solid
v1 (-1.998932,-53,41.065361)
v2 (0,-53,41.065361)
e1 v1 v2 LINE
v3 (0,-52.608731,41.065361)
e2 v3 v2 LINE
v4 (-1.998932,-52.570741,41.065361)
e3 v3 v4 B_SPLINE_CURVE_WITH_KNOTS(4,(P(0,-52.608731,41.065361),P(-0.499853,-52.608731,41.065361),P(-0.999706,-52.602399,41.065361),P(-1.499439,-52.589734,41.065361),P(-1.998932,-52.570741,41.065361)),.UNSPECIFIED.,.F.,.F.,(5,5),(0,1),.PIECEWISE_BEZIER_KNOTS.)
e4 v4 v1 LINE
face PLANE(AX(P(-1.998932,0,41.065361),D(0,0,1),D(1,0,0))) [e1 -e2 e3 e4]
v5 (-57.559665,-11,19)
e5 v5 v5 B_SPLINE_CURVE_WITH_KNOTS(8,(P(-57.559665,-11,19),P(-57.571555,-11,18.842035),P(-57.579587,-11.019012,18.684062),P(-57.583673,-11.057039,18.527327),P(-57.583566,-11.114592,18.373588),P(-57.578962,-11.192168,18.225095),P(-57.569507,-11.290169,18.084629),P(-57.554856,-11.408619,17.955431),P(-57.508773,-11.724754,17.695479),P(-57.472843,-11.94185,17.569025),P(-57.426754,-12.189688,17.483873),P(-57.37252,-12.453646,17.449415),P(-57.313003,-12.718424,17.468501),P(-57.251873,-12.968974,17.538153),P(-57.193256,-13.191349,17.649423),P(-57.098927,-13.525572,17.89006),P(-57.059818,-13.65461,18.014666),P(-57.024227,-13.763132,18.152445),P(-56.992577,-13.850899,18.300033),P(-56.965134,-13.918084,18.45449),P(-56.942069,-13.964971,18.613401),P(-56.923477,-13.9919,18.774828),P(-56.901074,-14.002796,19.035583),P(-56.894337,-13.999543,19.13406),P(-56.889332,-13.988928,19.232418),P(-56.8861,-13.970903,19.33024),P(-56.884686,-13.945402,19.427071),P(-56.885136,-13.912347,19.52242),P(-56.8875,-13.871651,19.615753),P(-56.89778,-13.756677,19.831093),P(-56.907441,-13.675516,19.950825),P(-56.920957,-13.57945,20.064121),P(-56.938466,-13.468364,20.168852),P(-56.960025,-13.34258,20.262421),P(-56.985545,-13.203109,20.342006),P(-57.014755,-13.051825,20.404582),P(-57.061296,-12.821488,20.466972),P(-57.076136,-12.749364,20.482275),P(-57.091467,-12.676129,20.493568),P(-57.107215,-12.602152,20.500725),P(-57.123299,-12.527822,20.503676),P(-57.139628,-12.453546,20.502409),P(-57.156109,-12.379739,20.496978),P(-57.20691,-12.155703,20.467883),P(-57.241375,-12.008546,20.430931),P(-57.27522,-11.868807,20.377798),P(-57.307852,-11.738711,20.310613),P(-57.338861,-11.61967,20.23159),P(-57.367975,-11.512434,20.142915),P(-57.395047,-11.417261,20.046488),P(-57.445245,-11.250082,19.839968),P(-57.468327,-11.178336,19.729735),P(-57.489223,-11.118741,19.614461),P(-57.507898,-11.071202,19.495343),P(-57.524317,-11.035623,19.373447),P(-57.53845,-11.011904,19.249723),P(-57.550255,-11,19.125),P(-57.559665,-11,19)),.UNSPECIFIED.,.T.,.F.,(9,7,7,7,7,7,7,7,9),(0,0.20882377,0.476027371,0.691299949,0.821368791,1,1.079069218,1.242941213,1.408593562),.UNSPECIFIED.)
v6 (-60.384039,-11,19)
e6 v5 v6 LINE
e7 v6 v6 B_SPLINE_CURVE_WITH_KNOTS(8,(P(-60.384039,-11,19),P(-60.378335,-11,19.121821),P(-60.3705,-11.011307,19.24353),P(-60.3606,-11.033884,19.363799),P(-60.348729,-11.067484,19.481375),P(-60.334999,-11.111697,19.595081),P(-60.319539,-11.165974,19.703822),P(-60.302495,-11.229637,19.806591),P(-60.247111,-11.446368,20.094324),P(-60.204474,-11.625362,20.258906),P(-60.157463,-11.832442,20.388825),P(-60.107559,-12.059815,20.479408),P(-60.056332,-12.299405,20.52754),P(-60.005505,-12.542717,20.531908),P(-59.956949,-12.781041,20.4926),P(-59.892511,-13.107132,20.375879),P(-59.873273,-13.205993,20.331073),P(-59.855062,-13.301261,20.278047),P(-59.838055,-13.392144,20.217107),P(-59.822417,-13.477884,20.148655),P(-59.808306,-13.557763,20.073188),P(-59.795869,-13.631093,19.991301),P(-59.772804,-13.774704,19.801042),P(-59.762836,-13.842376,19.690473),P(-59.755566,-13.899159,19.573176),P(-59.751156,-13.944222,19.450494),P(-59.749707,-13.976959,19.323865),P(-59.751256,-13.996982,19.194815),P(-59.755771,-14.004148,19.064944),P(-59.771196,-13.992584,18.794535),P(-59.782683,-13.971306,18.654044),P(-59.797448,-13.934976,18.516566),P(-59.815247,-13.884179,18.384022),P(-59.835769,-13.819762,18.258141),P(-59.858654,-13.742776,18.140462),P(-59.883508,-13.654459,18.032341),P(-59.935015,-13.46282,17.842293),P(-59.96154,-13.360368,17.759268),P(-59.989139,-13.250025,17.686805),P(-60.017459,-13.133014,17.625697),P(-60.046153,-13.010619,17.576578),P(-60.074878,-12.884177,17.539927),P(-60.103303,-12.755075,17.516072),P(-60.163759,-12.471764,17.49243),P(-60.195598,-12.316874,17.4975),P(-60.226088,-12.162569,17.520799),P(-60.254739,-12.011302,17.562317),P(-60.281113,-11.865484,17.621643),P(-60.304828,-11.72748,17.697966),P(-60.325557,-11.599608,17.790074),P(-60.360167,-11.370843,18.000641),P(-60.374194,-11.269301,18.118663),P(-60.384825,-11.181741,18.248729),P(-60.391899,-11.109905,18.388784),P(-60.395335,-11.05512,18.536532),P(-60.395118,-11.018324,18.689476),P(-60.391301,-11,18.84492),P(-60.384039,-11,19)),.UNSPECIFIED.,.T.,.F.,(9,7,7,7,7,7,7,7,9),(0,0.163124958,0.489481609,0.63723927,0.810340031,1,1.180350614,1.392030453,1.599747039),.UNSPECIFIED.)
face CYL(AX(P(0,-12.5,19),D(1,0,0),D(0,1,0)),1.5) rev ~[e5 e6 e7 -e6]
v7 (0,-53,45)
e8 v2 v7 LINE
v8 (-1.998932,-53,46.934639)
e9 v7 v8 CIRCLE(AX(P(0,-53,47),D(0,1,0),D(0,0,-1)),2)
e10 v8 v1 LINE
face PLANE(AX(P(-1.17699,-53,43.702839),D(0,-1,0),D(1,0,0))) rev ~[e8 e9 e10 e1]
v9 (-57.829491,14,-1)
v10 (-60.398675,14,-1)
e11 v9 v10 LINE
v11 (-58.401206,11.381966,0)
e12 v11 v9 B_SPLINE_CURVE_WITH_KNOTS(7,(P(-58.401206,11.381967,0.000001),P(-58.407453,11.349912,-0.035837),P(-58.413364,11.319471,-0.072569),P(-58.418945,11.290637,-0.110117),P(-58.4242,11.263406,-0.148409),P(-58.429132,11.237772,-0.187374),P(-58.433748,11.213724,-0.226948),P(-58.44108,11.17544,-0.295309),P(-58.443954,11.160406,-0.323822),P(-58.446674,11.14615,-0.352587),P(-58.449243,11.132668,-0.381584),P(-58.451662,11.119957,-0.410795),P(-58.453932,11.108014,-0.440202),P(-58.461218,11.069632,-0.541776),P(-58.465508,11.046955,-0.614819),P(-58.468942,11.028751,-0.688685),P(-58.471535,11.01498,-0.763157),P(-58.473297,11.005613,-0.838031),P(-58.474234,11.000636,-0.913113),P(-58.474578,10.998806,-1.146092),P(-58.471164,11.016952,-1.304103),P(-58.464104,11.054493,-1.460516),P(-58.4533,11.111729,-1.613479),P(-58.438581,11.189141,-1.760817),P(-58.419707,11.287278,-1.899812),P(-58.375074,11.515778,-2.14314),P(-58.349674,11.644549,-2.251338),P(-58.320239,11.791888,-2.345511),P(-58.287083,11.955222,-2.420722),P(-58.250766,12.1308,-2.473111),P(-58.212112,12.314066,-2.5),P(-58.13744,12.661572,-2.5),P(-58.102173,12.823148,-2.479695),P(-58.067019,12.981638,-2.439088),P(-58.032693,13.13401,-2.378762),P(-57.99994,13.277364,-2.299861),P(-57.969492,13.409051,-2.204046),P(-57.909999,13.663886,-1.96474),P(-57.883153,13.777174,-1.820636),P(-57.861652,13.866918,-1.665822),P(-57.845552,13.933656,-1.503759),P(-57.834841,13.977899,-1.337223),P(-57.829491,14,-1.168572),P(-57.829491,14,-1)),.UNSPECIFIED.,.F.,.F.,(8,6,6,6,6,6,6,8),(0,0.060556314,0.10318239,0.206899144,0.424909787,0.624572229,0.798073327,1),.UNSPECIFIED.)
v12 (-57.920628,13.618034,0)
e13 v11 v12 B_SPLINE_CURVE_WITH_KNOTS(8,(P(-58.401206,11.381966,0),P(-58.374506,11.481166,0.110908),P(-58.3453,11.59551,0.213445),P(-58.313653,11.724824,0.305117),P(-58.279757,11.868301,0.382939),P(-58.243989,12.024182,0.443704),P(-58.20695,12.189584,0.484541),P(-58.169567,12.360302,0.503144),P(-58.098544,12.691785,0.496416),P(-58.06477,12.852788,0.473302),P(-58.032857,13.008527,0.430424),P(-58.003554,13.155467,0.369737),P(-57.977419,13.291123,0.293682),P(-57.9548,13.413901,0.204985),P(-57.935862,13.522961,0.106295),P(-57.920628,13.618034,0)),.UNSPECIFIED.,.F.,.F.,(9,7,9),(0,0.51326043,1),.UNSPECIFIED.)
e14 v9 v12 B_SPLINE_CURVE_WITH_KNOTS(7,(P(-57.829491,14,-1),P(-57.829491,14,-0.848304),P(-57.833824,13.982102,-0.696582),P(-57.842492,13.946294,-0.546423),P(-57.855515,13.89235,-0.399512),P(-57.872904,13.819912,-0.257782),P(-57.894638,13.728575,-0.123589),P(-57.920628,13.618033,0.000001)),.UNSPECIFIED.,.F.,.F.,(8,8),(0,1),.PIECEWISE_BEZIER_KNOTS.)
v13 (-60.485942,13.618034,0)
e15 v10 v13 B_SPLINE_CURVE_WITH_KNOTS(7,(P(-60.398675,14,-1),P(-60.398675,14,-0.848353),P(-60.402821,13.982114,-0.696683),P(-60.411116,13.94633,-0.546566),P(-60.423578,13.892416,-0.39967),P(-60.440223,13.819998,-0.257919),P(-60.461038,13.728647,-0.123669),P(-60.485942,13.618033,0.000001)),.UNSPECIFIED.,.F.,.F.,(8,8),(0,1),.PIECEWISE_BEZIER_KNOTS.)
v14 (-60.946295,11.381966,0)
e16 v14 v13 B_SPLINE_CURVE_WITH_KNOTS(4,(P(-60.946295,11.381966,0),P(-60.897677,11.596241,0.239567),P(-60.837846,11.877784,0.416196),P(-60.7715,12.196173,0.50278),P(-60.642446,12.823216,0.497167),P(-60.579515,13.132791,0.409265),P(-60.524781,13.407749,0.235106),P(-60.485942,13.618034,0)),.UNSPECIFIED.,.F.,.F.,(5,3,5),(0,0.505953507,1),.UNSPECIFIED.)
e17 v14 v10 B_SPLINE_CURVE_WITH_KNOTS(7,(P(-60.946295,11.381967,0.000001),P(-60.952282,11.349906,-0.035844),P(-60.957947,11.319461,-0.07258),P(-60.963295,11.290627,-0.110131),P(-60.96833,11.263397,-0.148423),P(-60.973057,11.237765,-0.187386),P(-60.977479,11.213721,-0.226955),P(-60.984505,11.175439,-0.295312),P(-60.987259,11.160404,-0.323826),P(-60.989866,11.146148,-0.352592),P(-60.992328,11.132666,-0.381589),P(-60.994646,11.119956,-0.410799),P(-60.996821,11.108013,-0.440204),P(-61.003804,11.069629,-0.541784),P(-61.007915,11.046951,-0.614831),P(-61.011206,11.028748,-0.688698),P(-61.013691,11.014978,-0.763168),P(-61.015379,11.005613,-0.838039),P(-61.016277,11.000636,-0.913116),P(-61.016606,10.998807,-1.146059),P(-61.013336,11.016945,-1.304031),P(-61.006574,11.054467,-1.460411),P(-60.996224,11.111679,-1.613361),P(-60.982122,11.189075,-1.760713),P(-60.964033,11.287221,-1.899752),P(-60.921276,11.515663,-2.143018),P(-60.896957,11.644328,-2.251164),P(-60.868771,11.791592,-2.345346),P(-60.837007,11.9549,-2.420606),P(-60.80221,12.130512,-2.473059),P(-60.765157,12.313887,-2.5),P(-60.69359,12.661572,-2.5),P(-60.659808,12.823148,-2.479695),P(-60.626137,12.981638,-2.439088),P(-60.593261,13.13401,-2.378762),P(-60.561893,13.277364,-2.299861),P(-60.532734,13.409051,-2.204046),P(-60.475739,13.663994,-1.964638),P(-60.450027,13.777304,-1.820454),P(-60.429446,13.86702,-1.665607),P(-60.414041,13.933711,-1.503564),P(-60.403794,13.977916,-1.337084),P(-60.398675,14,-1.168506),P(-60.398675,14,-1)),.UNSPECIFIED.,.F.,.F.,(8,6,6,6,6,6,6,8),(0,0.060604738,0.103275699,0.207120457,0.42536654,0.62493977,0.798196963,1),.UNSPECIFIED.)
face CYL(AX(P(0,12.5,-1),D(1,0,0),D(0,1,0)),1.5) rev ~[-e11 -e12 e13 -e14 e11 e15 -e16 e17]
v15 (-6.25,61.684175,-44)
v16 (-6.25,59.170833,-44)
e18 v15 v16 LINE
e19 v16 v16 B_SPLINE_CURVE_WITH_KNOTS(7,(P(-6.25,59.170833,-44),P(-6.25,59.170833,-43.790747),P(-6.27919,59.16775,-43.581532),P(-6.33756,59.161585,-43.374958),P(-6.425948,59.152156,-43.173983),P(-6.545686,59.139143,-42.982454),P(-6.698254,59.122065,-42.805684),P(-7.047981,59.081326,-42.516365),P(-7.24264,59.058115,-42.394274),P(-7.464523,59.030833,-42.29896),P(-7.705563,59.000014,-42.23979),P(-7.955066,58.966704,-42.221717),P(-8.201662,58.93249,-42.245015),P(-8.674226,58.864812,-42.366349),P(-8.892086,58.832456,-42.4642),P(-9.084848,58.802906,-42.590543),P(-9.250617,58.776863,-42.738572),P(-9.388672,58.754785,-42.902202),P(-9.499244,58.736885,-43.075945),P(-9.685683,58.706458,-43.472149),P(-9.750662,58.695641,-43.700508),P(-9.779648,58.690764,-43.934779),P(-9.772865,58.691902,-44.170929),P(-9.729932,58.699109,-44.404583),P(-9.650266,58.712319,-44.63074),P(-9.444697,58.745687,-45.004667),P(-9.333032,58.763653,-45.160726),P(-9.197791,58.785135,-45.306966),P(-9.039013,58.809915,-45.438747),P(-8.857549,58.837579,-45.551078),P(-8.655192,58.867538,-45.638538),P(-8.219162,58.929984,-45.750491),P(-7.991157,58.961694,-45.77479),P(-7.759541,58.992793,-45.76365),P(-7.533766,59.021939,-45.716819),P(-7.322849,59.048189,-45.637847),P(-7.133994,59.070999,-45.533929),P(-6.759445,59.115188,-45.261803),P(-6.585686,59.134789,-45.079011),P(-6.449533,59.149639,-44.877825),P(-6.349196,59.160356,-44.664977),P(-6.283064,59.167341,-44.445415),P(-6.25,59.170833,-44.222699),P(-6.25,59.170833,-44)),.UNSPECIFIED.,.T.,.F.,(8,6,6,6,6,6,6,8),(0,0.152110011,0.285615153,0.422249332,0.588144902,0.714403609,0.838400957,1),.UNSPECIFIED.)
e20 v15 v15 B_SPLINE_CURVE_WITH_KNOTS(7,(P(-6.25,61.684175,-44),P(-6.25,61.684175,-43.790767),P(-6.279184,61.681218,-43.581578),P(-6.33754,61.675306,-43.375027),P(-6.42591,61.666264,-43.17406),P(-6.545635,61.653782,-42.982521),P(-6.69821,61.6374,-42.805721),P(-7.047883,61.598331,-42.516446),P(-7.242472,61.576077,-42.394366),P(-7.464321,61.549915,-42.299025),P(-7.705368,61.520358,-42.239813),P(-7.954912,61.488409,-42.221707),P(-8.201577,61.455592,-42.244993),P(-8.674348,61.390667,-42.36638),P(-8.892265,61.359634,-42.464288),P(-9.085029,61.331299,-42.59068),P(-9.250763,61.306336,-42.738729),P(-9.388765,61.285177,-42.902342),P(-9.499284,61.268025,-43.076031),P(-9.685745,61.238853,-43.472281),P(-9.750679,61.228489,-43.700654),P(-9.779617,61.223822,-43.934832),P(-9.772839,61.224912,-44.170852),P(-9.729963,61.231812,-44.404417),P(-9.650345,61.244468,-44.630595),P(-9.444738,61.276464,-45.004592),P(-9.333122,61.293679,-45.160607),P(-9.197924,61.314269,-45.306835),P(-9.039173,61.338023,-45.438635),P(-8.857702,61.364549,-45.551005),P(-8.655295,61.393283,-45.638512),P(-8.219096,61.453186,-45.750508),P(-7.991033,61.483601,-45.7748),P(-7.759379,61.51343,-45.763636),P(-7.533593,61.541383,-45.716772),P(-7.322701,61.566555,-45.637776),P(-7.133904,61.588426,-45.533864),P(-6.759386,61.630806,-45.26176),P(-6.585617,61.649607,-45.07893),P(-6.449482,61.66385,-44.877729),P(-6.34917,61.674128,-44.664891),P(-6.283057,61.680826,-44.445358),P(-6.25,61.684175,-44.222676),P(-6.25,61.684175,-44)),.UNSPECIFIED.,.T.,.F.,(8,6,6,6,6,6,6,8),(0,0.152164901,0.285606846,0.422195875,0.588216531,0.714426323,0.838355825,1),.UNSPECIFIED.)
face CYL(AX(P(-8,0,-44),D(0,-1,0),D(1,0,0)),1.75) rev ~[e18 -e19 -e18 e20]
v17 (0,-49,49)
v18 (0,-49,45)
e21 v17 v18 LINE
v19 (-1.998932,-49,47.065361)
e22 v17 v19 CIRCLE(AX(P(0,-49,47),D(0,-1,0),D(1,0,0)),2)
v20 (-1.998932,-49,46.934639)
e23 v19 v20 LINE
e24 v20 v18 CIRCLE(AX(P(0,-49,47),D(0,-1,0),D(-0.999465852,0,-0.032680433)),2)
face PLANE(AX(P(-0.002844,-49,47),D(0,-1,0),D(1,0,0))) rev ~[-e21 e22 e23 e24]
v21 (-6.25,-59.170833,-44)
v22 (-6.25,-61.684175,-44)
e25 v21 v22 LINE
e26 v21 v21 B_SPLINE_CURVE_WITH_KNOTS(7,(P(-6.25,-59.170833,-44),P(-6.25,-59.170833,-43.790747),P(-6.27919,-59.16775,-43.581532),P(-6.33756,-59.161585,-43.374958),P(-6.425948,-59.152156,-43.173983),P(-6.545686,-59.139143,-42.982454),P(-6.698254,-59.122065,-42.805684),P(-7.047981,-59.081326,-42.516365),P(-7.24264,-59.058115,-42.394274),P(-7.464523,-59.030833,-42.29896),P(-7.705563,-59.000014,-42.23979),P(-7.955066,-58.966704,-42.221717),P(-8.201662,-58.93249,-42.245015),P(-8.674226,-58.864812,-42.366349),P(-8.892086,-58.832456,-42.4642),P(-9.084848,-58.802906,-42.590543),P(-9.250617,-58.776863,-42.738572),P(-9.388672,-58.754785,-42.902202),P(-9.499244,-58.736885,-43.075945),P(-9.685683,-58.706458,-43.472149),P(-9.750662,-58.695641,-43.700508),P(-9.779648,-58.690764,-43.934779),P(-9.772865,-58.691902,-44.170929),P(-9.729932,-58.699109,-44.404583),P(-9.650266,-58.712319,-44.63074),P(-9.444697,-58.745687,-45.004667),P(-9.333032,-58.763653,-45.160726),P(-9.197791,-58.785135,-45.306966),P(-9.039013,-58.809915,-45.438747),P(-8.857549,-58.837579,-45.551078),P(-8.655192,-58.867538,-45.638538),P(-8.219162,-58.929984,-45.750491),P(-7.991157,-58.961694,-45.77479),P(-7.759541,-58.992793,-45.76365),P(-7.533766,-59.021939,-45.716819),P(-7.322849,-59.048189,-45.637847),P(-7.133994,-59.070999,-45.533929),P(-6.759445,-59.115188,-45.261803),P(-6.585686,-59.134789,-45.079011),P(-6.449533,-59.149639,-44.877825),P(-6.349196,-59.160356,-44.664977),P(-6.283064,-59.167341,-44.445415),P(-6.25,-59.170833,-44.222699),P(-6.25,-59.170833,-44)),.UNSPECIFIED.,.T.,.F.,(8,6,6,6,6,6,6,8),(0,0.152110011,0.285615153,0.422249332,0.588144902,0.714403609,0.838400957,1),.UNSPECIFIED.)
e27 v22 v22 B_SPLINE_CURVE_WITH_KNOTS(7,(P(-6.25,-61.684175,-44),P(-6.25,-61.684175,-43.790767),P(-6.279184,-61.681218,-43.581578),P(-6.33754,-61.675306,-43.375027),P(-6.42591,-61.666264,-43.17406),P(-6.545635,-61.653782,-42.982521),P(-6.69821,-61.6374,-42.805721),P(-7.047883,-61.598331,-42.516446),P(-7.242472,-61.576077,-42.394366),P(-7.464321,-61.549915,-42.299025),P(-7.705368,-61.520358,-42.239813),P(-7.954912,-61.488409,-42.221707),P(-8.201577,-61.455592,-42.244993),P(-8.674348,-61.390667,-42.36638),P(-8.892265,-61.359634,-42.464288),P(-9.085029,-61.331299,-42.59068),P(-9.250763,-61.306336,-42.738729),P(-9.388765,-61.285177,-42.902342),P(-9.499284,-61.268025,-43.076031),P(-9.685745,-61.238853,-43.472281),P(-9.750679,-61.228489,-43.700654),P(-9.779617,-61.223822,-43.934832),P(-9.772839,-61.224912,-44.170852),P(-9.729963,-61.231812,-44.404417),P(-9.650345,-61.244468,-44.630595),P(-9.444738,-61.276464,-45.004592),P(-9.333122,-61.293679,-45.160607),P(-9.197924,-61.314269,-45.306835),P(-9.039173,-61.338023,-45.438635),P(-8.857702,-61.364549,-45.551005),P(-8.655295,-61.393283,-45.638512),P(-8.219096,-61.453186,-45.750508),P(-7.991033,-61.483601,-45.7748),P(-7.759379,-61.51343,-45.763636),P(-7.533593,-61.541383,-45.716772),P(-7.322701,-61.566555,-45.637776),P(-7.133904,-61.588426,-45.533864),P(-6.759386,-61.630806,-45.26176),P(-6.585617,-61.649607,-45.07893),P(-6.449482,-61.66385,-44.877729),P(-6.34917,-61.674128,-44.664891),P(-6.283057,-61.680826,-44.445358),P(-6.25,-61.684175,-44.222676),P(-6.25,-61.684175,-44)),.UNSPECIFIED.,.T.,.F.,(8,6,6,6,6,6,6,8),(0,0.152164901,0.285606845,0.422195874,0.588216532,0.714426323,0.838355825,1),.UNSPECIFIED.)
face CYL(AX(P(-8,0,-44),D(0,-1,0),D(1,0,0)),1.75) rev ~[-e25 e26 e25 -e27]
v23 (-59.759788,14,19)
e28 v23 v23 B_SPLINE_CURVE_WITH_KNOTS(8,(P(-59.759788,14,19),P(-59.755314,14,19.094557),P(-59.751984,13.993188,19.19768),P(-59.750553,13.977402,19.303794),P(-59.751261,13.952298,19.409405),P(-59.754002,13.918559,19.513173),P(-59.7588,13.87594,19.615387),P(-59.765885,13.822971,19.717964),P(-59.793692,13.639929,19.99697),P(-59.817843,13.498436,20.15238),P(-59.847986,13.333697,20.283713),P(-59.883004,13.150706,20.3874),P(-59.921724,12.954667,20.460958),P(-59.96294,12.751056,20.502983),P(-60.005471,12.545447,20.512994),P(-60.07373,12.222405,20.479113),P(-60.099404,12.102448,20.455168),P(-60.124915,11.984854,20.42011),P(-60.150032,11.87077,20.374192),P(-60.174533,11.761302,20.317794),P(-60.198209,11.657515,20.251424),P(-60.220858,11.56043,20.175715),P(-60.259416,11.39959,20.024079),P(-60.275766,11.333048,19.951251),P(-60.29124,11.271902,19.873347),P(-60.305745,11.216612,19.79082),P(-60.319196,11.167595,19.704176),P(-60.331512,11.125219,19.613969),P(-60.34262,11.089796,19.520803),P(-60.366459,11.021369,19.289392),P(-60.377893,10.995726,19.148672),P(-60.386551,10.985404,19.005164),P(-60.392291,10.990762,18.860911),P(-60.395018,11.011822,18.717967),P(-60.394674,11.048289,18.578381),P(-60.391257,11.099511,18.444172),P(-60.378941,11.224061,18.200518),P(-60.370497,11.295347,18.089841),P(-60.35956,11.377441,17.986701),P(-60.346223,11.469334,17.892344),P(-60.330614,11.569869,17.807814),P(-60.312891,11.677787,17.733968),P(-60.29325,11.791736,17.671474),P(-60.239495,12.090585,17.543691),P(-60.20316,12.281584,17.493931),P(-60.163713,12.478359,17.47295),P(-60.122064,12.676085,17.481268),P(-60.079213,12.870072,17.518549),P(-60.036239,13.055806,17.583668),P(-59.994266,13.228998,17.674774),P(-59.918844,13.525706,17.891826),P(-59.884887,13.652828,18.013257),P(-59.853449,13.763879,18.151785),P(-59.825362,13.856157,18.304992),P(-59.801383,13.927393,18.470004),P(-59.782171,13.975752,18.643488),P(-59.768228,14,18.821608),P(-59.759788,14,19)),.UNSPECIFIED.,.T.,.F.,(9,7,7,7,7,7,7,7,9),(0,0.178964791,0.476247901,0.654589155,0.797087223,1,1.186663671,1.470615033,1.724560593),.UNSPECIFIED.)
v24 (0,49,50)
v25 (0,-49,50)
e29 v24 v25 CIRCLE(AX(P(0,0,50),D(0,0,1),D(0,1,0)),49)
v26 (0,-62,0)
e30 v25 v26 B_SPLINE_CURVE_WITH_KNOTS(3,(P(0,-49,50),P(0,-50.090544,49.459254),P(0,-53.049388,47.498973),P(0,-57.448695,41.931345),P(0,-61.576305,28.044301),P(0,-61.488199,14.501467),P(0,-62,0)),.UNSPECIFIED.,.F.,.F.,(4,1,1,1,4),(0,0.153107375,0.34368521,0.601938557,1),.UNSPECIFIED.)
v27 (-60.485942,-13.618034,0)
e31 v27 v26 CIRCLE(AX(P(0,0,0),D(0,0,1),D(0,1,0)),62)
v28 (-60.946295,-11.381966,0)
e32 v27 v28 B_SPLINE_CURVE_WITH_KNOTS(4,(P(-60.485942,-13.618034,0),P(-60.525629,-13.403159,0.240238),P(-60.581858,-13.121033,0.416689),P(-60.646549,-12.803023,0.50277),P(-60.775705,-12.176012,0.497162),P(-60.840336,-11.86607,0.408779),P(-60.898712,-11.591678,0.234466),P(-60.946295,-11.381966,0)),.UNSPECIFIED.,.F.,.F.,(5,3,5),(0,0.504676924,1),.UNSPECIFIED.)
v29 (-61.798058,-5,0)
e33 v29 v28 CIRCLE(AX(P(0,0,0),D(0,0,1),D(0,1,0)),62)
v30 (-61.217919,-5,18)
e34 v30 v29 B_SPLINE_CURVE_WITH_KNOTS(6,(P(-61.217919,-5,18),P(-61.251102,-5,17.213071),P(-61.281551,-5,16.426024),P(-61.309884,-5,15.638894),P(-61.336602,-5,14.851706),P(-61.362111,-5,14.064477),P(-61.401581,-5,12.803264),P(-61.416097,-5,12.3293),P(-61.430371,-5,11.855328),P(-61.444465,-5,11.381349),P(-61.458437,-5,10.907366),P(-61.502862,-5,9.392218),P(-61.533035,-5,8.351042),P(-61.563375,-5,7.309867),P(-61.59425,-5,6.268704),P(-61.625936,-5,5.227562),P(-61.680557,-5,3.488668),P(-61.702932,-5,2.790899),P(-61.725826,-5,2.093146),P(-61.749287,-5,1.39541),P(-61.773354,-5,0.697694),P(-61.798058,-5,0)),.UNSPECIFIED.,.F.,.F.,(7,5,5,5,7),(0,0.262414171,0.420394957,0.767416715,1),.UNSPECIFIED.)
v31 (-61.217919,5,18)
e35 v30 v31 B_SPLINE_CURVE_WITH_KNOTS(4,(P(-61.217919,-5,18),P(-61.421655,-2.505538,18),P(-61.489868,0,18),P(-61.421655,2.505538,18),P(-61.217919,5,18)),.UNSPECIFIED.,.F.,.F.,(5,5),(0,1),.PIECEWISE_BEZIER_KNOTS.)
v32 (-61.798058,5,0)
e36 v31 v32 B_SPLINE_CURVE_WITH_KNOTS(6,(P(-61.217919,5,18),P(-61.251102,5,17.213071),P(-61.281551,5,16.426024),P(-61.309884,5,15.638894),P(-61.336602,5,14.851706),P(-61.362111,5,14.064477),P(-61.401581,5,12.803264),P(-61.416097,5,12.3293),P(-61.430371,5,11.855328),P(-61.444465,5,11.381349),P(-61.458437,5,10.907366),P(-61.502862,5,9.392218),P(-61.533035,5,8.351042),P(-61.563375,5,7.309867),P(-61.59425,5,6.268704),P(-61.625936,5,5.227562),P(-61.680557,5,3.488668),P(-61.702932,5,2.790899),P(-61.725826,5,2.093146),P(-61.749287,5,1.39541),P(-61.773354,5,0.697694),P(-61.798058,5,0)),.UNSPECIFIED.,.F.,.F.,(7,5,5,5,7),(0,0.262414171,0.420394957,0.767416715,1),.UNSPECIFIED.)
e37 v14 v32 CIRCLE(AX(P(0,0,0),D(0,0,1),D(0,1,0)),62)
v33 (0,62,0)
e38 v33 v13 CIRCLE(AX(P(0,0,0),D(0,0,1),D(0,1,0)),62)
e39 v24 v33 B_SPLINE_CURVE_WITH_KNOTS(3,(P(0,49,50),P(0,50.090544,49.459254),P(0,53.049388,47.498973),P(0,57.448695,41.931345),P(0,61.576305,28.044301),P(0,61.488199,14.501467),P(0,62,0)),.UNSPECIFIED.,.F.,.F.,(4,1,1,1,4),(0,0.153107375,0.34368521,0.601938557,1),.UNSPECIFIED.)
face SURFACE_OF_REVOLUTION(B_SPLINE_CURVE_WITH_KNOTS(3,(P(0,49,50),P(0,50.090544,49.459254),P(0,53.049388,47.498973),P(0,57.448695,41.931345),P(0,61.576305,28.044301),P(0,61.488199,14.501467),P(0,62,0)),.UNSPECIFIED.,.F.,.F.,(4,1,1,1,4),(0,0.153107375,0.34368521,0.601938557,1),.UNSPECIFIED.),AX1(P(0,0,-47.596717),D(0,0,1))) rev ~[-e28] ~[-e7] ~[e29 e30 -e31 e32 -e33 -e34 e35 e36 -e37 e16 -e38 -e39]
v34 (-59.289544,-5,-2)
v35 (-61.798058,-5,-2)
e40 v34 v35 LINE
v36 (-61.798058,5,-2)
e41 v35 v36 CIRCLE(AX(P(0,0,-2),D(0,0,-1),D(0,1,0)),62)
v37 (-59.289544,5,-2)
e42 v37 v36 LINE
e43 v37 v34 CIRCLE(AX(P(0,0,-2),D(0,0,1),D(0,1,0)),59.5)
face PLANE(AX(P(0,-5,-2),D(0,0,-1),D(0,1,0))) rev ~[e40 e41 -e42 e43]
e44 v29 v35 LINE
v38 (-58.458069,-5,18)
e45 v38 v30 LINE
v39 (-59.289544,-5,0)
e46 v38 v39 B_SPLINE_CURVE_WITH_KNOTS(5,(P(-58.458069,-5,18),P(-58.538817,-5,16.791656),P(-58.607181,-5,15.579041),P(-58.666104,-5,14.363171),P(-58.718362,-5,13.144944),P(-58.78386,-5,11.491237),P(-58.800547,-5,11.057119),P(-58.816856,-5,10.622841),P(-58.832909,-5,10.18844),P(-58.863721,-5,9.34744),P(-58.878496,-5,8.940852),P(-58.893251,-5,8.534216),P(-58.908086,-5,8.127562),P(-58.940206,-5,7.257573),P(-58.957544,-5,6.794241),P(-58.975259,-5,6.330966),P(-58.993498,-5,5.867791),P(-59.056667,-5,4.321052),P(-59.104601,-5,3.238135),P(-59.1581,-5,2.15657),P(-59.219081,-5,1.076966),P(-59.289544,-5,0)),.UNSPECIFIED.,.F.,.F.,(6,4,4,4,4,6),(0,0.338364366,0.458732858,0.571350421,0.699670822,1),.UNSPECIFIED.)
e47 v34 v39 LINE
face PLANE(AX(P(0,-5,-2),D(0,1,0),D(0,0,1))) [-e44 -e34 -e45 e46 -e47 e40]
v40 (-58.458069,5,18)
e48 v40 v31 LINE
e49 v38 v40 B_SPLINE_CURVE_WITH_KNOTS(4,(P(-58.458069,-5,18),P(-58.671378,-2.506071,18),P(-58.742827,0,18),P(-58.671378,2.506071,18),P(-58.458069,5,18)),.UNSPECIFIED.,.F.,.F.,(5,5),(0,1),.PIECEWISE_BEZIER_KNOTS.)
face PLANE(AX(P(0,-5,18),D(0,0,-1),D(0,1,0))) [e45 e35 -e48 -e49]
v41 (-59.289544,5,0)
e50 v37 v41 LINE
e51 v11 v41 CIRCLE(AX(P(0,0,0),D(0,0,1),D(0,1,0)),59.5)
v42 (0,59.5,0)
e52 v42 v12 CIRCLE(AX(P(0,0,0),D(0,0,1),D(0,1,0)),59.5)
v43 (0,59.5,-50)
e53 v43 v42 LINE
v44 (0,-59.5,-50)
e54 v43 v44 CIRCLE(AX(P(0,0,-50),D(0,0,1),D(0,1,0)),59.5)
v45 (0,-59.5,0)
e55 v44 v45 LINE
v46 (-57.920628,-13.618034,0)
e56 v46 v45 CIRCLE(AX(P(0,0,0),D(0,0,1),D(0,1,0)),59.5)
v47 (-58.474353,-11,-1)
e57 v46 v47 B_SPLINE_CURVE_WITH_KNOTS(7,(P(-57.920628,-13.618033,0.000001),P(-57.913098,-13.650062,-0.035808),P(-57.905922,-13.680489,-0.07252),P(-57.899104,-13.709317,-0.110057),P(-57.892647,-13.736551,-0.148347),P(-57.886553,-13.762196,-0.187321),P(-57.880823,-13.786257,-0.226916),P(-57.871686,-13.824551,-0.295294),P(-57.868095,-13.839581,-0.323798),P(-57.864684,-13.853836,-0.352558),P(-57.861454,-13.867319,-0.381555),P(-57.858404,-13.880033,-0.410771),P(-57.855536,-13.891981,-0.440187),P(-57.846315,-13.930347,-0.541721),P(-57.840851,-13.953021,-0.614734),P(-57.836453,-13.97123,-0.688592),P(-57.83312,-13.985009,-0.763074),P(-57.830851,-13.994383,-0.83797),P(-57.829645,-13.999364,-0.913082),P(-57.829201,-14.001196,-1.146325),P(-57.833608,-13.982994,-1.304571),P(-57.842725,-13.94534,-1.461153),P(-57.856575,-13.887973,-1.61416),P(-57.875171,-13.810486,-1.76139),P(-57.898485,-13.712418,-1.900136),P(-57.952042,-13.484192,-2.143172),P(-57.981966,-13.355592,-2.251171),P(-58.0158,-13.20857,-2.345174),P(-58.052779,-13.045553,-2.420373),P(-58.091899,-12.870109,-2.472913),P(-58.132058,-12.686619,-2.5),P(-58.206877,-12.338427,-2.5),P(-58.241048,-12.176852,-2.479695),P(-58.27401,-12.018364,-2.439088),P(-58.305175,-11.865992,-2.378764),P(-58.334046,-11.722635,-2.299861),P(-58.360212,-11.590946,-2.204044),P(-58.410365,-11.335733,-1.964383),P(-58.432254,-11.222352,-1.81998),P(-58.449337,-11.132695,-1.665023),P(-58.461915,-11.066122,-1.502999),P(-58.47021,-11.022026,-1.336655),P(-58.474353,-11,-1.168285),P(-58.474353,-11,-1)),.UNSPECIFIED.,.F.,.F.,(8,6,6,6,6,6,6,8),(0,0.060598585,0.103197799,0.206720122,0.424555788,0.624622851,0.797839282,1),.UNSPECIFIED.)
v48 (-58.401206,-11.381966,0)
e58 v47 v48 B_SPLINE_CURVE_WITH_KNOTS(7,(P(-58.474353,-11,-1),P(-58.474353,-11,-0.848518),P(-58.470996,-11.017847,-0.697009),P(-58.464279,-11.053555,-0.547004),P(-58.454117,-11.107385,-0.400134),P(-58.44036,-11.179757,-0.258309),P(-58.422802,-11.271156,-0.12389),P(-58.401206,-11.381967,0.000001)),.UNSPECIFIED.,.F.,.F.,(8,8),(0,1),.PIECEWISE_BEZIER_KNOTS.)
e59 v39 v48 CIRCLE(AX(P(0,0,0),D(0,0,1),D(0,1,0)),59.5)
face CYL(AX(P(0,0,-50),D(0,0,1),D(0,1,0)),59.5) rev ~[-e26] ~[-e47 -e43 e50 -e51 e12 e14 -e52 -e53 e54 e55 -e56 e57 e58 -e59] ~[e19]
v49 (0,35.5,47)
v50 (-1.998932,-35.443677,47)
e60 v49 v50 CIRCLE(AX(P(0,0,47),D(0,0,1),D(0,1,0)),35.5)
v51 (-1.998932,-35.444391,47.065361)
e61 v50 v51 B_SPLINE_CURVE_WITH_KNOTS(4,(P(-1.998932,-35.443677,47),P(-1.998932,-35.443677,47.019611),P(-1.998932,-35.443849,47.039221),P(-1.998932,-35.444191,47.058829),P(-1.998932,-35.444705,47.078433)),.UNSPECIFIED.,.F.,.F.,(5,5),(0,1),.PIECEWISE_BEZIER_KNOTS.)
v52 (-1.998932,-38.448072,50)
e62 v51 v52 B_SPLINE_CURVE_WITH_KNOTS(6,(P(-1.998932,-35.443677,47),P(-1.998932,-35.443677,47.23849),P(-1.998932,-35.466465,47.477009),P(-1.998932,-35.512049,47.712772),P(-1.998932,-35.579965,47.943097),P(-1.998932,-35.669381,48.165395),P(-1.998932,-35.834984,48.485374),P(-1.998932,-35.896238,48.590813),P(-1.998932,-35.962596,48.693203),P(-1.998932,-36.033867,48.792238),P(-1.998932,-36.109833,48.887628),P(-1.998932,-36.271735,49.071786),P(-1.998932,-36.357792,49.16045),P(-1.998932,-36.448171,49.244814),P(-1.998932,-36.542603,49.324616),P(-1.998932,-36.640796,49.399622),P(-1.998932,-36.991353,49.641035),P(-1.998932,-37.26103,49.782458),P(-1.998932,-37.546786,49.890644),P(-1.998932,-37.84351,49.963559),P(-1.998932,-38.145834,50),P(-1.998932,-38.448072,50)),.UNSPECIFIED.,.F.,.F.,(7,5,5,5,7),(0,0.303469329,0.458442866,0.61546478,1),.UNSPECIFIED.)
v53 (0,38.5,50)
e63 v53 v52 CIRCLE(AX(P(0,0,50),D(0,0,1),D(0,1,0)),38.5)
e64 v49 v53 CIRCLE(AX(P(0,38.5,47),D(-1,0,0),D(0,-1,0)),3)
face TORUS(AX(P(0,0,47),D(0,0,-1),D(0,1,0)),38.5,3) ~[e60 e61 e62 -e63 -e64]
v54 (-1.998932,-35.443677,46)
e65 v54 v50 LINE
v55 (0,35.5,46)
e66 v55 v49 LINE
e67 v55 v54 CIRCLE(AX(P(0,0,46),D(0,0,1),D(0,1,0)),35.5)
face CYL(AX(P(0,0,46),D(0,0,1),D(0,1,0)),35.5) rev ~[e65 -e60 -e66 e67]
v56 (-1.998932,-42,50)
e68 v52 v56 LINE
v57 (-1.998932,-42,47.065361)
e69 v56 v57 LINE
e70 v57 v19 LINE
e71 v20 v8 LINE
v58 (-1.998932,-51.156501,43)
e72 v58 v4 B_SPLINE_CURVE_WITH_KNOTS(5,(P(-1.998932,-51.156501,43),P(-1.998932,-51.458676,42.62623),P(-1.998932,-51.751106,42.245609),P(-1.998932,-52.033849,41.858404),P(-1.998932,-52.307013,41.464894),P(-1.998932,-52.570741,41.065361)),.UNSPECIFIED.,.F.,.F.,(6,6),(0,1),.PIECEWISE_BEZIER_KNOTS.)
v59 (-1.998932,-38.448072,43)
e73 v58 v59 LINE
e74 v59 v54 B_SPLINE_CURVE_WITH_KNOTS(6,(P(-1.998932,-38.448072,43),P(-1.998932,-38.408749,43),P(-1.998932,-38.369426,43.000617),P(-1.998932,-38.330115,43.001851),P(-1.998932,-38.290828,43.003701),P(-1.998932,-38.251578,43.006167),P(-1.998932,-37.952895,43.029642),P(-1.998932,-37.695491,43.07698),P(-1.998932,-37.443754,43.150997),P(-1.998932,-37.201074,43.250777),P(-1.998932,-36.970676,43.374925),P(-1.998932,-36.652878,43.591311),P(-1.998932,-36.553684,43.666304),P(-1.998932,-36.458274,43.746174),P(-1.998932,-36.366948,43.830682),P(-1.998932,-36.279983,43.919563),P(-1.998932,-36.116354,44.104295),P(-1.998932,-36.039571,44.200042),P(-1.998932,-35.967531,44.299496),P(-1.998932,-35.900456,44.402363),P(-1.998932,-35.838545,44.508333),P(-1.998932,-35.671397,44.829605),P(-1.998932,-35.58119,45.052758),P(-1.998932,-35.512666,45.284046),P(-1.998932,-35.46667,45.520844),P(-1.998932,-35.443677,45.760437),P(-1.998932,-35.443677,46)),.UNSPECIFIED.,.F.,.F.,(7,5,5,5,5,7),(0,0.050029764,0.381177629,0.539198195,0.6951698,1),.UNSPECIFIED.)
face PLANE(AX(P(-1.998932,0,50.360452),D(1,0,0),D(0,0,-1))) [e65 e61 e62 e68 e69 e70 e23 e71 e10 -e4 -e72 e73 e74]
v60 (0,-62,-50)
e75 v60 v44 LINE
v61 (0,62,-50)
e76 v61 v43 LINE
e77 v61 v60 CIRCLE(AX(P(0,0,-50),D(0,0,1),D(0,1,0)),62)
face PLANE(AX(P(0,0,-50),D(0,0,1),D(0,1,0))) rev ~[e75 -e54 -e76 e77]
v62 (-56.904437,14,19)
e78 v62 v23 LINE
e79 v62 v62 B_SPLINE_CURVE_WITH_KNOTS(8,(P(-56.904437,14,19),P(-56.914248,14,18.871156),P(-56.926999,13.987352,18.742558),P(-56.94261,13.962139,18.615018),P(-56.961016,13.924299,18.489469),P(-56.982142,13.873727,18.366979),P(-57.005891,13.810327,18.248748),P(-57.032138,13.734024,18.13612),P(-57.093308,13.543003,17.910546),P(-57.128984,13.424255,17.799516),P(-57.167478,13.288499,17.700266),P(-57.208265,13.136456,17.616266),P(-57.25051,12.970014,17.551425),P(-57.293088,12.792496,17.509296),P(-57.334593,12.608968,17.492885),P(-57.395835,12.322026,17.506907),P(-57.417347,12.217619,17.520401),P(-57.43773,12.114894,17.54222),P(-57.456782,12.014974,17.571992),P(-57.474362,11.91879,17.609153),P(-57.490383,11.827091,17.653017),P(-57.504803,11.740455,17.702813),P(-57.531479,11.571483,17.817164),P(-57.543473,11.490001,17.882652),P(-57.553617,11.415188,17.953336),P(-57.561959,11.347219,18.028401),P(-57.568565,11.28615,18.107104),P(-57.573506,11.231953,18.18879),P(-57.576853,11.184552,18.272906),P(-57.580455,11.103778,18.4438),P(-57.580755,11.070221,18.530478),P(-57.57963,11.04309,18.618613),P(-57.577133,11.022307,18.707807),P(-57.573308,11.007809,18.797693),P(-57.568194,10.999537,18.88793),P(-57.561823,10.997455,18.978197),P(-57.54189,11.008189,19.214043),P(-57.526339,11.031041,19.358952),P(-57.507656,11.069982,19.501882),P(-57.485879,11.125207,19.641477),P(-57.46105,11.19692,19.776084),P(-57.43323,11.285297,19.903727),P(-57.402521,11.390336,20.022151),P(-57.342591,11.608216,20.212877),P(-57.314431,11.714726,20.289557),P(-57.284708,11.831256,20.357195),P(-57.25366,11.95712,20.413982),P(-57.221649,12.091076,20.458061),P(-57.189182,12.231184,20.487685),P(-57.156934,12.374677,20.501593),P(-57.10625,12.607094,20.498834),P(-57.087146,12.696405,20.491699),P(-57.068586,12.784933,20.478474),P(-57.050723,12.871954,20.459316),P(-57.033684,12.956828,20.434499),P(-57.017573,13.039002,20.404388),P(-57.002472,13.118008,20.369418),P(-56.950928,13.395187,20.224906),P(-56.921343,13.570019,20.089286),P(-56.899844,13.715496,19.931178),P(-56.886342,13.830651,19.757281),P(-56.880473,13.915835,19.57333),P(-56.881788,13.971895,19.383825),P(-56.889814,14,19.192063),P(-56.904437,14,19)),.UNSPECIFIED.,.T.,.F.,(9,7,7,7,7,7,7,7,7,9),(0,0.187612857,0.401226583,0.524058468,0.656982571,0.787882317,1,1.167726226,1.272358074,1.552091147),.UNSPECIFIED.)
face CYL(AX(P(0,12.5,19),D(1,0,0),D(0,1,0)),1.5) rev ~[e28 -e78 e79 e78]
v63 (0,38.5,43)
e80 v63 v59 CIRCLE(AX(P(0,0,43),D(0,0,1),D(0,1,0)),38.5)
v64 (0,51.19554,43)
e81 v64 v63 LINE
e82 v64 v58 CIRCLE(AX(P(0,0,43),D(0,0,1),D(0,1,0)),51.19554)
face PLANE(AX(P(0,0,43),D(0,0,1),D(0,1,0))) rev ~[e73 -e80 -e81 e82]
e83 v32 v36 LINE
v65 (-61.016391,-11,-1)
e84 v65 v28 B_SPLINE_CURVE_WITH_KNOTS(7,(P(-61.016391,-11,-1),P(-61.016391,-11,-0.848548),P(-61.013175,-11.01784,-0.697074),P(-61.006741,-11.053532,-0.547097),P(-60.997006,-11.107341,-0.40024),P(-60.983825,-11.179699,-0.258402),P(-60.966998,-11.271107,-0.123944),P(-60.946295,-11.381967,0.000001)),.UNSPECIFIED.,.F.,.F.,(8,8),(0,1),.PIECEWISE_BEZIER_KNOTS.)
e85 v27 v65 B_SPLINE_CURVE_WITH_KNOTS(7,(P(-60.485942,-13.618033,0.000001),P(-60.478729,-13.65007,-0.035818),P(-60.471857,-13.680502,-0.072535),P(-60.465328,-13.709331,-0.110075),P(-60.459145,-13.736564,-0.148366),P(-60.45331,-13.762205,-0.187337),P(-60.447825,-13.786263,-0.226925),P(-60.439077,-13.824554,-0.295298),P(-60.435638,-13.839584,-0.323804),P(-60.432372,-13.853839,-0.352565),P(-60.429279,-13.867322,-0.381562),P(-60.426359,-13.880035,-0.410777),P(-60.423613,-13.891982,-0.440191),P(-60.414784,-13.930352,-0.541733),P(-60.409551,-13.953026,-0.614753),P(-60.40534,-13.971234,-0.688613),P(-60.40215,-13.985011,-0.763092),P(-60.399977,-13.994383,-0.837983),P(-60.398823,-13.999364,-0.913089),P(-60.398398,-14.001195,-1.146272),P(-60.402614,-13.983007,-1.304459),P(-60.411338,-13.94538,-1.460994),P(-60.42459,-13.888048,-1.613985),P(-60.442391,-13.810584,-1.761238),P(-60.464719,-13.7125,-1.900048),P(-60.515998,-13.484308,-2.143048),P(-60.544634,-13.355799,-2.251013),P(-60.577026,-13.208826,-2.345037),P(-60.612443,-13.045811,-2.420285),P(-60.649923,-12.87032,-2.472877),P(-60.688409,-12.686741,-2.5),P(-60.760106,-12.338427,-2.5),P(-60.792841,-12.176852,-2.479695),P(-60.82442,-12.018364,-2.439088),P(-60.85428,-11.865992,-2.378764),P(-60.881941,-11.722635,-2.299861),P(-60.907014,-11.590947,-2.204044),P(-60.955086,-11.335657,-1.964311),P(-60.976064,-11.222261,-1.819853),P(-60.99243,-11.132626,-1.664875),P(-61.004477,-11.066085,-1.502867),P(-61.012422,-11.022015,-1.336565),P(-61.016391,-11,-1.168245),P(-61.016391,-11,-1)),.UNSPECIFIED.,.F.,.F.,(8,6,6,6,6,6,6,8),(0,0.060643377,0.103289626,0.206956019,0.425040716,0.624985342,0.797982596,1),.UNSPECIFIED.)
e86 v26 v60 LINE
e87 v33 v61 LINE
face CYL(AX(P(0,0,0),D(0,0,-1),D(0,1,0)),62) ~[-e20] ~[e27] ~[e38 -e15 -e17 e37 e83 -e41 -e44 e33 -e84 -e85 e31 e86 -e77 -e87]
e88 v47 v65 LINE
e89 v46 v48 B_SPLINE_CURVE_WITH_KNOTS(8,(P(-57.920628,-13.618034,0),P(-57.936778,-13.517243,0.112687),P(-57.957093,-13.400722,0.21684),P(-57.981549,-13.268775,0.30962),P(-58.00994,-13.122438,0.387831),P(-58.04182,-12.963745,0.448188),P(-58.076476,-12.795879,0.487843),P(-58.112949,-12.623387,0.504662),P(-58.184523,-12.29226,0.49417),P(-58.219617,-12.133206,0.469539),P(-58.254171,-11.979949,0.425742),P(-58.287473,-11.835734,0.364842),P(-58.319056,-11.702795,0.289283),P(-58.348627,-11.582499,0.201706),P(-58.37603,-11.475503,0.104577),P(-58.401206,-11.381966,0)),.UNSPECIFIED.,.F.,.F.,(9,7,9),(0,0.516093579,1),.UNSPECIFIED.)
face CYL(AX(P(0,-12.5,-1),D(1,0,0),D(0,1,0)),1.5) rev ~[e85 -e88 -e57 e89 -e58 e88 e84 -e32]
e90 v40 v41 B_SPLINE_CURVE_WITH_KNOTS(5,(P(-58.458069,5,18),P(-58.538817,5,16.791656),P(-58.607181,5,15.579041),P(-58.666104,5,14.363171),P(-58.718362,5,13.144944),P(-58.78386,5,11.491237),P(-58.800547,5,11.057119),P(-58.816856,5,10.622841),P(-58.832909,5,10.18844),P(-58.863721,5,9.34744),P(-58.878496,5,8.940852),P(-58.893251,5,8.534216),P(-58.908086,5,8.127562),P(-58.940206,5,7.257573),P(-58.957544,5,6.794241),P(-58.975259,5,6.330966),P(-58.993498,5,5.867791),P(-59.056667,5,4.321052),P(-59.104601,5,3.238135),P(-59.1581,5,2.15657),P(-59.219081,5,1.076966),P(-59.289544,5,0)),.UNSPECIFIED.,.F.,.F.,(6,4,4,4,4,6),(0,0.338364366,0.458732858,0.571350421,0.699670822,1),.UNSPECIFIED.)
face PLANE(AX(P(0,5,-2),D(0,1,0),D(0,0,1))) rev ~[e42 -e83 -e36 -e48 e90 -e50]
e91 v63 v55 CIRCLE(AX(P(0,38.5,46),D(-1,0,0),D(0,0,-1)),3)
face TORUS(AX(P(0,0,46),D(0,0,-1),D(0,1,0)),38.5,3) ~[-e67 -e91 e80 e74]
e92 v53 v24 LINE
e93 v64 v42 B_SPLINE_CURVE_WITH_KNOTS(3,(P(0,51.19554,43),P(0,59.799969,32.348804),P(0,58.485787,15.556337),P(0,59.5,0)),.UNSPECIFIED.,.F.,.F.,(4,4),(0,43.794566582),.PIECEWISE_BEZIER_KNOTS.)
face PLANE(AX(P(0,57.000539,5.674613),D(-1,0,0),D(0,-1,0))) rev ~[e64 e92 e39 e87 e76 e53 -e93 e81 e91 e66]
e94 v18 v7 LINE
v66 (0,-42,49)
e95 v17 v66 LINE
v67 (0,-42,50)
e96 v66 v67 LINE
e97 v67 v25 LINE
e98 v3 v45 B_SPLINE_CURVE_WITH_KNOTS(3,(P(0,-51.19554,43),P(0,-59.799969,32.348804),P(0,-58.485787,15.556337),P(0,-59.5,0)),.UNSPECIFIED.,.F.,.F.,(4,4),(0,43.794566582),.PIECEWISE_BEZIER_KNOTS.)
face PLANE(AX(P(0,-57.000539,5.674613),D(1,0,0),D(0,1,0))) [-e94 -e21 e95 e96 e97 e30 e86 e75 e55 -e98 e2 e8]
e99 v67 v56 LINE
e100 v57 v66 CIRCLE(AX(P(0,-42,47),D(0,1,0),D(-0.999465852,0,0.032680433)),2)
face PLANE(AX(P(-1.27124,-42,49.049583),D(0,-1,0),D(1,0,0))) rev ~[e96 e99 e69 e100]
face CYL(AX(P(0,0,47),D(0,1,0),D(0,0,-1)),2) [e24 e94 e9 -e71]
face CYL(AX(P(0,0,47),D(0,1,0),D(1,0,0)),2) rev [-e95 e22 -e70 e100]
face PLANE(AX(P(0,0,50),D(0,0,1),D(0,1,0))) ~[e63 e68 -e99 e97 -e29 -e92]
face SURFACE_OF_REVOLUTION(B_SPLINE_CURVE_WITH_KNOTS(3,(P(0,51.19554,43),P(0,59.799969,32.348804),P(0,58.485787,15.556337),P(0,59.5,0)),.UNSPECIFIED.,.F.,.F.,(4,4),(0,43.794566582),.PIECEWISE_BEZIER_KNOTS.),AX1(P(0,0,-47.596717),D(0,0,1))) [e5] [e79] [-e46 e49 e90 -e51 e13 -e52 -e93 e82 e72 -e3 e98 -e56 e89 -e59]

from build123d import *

# Parameters (mm, degrees)
F1_ANGLE_BACK = 90
F1_ANGLE      = 180
F3_DEPTH      = 49
F4_DEPTH      = 42
F5_DEPTH      = 53
F6_R          = 1.75
F7_DEPTH      = 62.5
F8_W          = 10
F8_H          = 20
F8_R          = 1.5
F9_DEPTH      = 62.0010001


with BuildPart() as f1:
    # F0 (on Front) → F1 (revolve)
    with BuildSketch(Plane.XZ, mode=Mode.PRIVATE) as f1_sk:
        with BuildLine():
            ThreePointArc((-35.5, 47), (-36.3786796564, 49.1213203436), (-38.5, 50))
            Line((-38.5, 50), (-49, 50))
            add(Edge.make_bspline(
                [(-49, 50), (-50.0905438599, 49.4592544488), (-53.0493875637, 47.4989733534), (-57.4486951492, 41.931344871), (-61.5763053799, 28.0443008729), (-61.4881986154, 14.5014666819), (-62, 0)],
                knots=[0, 0, 0, 0, 0.1531073754, 0.3436852098, 0.6019385566, 1, 1, 1, 1], degree=3))
            Line((-62, 0), (-62, -50))
            Line((-62, -50), (-59.5, -50))
            Line((-59.5, -50), (-59.5, 0))
            add(Edge.make_bspline(
                [(-51.1955396277, 43), (-59.7999691963, 32.3488041759), (-58.4857873619, 15.5563373119), (-59.5, 0)],
                knots=[0, 0, 0, 0, 43.7945665817, 43.7945665817, 43.7945665817, 43.7945665817], degree=3))
            Line((-51.1955396277, 43), (-38.5, 43))
            ThreePointArc((-38.5, 43), (-36.3786796564, 43.8786796564), (-35.5, 46))
            Line((-35.5, 46), (-35.5, 47))
        make_face()
    revolve(f1_sk.sketch.rotate(Axis((0, 0, -47.5967168808), (0, 0, 1)), -F1_ANGLE_BACK), axis=Axis((0, 0, -47.5967168808), (0, 0, 1)), revolution_arc=F1_ANGLE)

    # F2 (on Front) → F3 (cut)
    with BuildSketch(Plane.XZ):
        with BuildLine():
            ThreePointArc((0, 45), (1.4142135624, 45.5857864376), (2, 47))
            ThreePointArc((2, 47), (1.4142135624, 48.4142135624), (0, 49))
            ThreePointArc((0, 49), (-1.3909130574, 48.4371363424), (-1.998931704, 47.0653608667))
            Line((-1.998931704, 47.0653608667), (-1.998931704, 46.9346391333))
            ThreePointArc((-1.998931704, 46.9346391333), (-1.3909130574, 45.5628636576), (0, 45))
        make_face()
    extrude(amount=F3_DEPTH, mode=Mode.SUBTRACT)

    # F2 (on Front) → F4 (cut)
    with BuildSketch(Plane.XZ):
        with BuildLine():
            ThreePointArc((-1.998931704, 47.0653608667), (-1.3909130574, 48.4371363424), (0, 49))
            Line((0, 49), (0, 50.3604523001))
            Line((0, 50.3604523001), (-1.998931704, 50.3604523001))
            Line((-1.998931704, 50.3604523001), (-1.998931704, 47.0653608667))
        make_face()
    extrude(amount=F4_DEPTH, mode=Mode.SUBTRACT)

    # F2 (on Front) → F5 (cut)
    with BuildSketch(Plane.XZ):
        with BuildLine():
            Line((0, 41.0653608667), (0, 45))
            ThreePointArc((0, 45), (-1.3909130574, 45.5628636576), (-1.998931704, 46.9346391333))
            Line((-1.998931704, 46.9346391333), (-1.998931704, 41.0653608667))
            Line((-1.998931704, 41.0653608667), (0, 41.0653608667))
        make_face()
    extrude(amount=F5_DEPTH, mode=Mode.SUBTRACT)

    # F6 (on Front) → F7 (cut, symmetric)
    with BuildSketch(Plane.XZ):
        with Locations((-8, -44)):
            Circle(F6_R)
    extrude(amount=F7_DEPTH, both=True, mode=Mode.SUBTRACT)

    # F8 (on Right) → F9 (cut, through all)
    with BuildSketch(Plane.YZ):
        with Locations((0, 8)):
            Rectangle(F8_W, F8_H)
        with Locations((-12.5, 19)):
            Circle(F8_R)
        with Locations((12.5, 19)):
            Circle(F8_R)
        with Locations((12.5, -1)):
            Circle(F8_R)
        with Locations((-12.5, -1)):
            Circle(F8_R)
    extrude(amount=-F9_DEPTH, mode=Mode.SUBTRACT)


solid = f1.part
